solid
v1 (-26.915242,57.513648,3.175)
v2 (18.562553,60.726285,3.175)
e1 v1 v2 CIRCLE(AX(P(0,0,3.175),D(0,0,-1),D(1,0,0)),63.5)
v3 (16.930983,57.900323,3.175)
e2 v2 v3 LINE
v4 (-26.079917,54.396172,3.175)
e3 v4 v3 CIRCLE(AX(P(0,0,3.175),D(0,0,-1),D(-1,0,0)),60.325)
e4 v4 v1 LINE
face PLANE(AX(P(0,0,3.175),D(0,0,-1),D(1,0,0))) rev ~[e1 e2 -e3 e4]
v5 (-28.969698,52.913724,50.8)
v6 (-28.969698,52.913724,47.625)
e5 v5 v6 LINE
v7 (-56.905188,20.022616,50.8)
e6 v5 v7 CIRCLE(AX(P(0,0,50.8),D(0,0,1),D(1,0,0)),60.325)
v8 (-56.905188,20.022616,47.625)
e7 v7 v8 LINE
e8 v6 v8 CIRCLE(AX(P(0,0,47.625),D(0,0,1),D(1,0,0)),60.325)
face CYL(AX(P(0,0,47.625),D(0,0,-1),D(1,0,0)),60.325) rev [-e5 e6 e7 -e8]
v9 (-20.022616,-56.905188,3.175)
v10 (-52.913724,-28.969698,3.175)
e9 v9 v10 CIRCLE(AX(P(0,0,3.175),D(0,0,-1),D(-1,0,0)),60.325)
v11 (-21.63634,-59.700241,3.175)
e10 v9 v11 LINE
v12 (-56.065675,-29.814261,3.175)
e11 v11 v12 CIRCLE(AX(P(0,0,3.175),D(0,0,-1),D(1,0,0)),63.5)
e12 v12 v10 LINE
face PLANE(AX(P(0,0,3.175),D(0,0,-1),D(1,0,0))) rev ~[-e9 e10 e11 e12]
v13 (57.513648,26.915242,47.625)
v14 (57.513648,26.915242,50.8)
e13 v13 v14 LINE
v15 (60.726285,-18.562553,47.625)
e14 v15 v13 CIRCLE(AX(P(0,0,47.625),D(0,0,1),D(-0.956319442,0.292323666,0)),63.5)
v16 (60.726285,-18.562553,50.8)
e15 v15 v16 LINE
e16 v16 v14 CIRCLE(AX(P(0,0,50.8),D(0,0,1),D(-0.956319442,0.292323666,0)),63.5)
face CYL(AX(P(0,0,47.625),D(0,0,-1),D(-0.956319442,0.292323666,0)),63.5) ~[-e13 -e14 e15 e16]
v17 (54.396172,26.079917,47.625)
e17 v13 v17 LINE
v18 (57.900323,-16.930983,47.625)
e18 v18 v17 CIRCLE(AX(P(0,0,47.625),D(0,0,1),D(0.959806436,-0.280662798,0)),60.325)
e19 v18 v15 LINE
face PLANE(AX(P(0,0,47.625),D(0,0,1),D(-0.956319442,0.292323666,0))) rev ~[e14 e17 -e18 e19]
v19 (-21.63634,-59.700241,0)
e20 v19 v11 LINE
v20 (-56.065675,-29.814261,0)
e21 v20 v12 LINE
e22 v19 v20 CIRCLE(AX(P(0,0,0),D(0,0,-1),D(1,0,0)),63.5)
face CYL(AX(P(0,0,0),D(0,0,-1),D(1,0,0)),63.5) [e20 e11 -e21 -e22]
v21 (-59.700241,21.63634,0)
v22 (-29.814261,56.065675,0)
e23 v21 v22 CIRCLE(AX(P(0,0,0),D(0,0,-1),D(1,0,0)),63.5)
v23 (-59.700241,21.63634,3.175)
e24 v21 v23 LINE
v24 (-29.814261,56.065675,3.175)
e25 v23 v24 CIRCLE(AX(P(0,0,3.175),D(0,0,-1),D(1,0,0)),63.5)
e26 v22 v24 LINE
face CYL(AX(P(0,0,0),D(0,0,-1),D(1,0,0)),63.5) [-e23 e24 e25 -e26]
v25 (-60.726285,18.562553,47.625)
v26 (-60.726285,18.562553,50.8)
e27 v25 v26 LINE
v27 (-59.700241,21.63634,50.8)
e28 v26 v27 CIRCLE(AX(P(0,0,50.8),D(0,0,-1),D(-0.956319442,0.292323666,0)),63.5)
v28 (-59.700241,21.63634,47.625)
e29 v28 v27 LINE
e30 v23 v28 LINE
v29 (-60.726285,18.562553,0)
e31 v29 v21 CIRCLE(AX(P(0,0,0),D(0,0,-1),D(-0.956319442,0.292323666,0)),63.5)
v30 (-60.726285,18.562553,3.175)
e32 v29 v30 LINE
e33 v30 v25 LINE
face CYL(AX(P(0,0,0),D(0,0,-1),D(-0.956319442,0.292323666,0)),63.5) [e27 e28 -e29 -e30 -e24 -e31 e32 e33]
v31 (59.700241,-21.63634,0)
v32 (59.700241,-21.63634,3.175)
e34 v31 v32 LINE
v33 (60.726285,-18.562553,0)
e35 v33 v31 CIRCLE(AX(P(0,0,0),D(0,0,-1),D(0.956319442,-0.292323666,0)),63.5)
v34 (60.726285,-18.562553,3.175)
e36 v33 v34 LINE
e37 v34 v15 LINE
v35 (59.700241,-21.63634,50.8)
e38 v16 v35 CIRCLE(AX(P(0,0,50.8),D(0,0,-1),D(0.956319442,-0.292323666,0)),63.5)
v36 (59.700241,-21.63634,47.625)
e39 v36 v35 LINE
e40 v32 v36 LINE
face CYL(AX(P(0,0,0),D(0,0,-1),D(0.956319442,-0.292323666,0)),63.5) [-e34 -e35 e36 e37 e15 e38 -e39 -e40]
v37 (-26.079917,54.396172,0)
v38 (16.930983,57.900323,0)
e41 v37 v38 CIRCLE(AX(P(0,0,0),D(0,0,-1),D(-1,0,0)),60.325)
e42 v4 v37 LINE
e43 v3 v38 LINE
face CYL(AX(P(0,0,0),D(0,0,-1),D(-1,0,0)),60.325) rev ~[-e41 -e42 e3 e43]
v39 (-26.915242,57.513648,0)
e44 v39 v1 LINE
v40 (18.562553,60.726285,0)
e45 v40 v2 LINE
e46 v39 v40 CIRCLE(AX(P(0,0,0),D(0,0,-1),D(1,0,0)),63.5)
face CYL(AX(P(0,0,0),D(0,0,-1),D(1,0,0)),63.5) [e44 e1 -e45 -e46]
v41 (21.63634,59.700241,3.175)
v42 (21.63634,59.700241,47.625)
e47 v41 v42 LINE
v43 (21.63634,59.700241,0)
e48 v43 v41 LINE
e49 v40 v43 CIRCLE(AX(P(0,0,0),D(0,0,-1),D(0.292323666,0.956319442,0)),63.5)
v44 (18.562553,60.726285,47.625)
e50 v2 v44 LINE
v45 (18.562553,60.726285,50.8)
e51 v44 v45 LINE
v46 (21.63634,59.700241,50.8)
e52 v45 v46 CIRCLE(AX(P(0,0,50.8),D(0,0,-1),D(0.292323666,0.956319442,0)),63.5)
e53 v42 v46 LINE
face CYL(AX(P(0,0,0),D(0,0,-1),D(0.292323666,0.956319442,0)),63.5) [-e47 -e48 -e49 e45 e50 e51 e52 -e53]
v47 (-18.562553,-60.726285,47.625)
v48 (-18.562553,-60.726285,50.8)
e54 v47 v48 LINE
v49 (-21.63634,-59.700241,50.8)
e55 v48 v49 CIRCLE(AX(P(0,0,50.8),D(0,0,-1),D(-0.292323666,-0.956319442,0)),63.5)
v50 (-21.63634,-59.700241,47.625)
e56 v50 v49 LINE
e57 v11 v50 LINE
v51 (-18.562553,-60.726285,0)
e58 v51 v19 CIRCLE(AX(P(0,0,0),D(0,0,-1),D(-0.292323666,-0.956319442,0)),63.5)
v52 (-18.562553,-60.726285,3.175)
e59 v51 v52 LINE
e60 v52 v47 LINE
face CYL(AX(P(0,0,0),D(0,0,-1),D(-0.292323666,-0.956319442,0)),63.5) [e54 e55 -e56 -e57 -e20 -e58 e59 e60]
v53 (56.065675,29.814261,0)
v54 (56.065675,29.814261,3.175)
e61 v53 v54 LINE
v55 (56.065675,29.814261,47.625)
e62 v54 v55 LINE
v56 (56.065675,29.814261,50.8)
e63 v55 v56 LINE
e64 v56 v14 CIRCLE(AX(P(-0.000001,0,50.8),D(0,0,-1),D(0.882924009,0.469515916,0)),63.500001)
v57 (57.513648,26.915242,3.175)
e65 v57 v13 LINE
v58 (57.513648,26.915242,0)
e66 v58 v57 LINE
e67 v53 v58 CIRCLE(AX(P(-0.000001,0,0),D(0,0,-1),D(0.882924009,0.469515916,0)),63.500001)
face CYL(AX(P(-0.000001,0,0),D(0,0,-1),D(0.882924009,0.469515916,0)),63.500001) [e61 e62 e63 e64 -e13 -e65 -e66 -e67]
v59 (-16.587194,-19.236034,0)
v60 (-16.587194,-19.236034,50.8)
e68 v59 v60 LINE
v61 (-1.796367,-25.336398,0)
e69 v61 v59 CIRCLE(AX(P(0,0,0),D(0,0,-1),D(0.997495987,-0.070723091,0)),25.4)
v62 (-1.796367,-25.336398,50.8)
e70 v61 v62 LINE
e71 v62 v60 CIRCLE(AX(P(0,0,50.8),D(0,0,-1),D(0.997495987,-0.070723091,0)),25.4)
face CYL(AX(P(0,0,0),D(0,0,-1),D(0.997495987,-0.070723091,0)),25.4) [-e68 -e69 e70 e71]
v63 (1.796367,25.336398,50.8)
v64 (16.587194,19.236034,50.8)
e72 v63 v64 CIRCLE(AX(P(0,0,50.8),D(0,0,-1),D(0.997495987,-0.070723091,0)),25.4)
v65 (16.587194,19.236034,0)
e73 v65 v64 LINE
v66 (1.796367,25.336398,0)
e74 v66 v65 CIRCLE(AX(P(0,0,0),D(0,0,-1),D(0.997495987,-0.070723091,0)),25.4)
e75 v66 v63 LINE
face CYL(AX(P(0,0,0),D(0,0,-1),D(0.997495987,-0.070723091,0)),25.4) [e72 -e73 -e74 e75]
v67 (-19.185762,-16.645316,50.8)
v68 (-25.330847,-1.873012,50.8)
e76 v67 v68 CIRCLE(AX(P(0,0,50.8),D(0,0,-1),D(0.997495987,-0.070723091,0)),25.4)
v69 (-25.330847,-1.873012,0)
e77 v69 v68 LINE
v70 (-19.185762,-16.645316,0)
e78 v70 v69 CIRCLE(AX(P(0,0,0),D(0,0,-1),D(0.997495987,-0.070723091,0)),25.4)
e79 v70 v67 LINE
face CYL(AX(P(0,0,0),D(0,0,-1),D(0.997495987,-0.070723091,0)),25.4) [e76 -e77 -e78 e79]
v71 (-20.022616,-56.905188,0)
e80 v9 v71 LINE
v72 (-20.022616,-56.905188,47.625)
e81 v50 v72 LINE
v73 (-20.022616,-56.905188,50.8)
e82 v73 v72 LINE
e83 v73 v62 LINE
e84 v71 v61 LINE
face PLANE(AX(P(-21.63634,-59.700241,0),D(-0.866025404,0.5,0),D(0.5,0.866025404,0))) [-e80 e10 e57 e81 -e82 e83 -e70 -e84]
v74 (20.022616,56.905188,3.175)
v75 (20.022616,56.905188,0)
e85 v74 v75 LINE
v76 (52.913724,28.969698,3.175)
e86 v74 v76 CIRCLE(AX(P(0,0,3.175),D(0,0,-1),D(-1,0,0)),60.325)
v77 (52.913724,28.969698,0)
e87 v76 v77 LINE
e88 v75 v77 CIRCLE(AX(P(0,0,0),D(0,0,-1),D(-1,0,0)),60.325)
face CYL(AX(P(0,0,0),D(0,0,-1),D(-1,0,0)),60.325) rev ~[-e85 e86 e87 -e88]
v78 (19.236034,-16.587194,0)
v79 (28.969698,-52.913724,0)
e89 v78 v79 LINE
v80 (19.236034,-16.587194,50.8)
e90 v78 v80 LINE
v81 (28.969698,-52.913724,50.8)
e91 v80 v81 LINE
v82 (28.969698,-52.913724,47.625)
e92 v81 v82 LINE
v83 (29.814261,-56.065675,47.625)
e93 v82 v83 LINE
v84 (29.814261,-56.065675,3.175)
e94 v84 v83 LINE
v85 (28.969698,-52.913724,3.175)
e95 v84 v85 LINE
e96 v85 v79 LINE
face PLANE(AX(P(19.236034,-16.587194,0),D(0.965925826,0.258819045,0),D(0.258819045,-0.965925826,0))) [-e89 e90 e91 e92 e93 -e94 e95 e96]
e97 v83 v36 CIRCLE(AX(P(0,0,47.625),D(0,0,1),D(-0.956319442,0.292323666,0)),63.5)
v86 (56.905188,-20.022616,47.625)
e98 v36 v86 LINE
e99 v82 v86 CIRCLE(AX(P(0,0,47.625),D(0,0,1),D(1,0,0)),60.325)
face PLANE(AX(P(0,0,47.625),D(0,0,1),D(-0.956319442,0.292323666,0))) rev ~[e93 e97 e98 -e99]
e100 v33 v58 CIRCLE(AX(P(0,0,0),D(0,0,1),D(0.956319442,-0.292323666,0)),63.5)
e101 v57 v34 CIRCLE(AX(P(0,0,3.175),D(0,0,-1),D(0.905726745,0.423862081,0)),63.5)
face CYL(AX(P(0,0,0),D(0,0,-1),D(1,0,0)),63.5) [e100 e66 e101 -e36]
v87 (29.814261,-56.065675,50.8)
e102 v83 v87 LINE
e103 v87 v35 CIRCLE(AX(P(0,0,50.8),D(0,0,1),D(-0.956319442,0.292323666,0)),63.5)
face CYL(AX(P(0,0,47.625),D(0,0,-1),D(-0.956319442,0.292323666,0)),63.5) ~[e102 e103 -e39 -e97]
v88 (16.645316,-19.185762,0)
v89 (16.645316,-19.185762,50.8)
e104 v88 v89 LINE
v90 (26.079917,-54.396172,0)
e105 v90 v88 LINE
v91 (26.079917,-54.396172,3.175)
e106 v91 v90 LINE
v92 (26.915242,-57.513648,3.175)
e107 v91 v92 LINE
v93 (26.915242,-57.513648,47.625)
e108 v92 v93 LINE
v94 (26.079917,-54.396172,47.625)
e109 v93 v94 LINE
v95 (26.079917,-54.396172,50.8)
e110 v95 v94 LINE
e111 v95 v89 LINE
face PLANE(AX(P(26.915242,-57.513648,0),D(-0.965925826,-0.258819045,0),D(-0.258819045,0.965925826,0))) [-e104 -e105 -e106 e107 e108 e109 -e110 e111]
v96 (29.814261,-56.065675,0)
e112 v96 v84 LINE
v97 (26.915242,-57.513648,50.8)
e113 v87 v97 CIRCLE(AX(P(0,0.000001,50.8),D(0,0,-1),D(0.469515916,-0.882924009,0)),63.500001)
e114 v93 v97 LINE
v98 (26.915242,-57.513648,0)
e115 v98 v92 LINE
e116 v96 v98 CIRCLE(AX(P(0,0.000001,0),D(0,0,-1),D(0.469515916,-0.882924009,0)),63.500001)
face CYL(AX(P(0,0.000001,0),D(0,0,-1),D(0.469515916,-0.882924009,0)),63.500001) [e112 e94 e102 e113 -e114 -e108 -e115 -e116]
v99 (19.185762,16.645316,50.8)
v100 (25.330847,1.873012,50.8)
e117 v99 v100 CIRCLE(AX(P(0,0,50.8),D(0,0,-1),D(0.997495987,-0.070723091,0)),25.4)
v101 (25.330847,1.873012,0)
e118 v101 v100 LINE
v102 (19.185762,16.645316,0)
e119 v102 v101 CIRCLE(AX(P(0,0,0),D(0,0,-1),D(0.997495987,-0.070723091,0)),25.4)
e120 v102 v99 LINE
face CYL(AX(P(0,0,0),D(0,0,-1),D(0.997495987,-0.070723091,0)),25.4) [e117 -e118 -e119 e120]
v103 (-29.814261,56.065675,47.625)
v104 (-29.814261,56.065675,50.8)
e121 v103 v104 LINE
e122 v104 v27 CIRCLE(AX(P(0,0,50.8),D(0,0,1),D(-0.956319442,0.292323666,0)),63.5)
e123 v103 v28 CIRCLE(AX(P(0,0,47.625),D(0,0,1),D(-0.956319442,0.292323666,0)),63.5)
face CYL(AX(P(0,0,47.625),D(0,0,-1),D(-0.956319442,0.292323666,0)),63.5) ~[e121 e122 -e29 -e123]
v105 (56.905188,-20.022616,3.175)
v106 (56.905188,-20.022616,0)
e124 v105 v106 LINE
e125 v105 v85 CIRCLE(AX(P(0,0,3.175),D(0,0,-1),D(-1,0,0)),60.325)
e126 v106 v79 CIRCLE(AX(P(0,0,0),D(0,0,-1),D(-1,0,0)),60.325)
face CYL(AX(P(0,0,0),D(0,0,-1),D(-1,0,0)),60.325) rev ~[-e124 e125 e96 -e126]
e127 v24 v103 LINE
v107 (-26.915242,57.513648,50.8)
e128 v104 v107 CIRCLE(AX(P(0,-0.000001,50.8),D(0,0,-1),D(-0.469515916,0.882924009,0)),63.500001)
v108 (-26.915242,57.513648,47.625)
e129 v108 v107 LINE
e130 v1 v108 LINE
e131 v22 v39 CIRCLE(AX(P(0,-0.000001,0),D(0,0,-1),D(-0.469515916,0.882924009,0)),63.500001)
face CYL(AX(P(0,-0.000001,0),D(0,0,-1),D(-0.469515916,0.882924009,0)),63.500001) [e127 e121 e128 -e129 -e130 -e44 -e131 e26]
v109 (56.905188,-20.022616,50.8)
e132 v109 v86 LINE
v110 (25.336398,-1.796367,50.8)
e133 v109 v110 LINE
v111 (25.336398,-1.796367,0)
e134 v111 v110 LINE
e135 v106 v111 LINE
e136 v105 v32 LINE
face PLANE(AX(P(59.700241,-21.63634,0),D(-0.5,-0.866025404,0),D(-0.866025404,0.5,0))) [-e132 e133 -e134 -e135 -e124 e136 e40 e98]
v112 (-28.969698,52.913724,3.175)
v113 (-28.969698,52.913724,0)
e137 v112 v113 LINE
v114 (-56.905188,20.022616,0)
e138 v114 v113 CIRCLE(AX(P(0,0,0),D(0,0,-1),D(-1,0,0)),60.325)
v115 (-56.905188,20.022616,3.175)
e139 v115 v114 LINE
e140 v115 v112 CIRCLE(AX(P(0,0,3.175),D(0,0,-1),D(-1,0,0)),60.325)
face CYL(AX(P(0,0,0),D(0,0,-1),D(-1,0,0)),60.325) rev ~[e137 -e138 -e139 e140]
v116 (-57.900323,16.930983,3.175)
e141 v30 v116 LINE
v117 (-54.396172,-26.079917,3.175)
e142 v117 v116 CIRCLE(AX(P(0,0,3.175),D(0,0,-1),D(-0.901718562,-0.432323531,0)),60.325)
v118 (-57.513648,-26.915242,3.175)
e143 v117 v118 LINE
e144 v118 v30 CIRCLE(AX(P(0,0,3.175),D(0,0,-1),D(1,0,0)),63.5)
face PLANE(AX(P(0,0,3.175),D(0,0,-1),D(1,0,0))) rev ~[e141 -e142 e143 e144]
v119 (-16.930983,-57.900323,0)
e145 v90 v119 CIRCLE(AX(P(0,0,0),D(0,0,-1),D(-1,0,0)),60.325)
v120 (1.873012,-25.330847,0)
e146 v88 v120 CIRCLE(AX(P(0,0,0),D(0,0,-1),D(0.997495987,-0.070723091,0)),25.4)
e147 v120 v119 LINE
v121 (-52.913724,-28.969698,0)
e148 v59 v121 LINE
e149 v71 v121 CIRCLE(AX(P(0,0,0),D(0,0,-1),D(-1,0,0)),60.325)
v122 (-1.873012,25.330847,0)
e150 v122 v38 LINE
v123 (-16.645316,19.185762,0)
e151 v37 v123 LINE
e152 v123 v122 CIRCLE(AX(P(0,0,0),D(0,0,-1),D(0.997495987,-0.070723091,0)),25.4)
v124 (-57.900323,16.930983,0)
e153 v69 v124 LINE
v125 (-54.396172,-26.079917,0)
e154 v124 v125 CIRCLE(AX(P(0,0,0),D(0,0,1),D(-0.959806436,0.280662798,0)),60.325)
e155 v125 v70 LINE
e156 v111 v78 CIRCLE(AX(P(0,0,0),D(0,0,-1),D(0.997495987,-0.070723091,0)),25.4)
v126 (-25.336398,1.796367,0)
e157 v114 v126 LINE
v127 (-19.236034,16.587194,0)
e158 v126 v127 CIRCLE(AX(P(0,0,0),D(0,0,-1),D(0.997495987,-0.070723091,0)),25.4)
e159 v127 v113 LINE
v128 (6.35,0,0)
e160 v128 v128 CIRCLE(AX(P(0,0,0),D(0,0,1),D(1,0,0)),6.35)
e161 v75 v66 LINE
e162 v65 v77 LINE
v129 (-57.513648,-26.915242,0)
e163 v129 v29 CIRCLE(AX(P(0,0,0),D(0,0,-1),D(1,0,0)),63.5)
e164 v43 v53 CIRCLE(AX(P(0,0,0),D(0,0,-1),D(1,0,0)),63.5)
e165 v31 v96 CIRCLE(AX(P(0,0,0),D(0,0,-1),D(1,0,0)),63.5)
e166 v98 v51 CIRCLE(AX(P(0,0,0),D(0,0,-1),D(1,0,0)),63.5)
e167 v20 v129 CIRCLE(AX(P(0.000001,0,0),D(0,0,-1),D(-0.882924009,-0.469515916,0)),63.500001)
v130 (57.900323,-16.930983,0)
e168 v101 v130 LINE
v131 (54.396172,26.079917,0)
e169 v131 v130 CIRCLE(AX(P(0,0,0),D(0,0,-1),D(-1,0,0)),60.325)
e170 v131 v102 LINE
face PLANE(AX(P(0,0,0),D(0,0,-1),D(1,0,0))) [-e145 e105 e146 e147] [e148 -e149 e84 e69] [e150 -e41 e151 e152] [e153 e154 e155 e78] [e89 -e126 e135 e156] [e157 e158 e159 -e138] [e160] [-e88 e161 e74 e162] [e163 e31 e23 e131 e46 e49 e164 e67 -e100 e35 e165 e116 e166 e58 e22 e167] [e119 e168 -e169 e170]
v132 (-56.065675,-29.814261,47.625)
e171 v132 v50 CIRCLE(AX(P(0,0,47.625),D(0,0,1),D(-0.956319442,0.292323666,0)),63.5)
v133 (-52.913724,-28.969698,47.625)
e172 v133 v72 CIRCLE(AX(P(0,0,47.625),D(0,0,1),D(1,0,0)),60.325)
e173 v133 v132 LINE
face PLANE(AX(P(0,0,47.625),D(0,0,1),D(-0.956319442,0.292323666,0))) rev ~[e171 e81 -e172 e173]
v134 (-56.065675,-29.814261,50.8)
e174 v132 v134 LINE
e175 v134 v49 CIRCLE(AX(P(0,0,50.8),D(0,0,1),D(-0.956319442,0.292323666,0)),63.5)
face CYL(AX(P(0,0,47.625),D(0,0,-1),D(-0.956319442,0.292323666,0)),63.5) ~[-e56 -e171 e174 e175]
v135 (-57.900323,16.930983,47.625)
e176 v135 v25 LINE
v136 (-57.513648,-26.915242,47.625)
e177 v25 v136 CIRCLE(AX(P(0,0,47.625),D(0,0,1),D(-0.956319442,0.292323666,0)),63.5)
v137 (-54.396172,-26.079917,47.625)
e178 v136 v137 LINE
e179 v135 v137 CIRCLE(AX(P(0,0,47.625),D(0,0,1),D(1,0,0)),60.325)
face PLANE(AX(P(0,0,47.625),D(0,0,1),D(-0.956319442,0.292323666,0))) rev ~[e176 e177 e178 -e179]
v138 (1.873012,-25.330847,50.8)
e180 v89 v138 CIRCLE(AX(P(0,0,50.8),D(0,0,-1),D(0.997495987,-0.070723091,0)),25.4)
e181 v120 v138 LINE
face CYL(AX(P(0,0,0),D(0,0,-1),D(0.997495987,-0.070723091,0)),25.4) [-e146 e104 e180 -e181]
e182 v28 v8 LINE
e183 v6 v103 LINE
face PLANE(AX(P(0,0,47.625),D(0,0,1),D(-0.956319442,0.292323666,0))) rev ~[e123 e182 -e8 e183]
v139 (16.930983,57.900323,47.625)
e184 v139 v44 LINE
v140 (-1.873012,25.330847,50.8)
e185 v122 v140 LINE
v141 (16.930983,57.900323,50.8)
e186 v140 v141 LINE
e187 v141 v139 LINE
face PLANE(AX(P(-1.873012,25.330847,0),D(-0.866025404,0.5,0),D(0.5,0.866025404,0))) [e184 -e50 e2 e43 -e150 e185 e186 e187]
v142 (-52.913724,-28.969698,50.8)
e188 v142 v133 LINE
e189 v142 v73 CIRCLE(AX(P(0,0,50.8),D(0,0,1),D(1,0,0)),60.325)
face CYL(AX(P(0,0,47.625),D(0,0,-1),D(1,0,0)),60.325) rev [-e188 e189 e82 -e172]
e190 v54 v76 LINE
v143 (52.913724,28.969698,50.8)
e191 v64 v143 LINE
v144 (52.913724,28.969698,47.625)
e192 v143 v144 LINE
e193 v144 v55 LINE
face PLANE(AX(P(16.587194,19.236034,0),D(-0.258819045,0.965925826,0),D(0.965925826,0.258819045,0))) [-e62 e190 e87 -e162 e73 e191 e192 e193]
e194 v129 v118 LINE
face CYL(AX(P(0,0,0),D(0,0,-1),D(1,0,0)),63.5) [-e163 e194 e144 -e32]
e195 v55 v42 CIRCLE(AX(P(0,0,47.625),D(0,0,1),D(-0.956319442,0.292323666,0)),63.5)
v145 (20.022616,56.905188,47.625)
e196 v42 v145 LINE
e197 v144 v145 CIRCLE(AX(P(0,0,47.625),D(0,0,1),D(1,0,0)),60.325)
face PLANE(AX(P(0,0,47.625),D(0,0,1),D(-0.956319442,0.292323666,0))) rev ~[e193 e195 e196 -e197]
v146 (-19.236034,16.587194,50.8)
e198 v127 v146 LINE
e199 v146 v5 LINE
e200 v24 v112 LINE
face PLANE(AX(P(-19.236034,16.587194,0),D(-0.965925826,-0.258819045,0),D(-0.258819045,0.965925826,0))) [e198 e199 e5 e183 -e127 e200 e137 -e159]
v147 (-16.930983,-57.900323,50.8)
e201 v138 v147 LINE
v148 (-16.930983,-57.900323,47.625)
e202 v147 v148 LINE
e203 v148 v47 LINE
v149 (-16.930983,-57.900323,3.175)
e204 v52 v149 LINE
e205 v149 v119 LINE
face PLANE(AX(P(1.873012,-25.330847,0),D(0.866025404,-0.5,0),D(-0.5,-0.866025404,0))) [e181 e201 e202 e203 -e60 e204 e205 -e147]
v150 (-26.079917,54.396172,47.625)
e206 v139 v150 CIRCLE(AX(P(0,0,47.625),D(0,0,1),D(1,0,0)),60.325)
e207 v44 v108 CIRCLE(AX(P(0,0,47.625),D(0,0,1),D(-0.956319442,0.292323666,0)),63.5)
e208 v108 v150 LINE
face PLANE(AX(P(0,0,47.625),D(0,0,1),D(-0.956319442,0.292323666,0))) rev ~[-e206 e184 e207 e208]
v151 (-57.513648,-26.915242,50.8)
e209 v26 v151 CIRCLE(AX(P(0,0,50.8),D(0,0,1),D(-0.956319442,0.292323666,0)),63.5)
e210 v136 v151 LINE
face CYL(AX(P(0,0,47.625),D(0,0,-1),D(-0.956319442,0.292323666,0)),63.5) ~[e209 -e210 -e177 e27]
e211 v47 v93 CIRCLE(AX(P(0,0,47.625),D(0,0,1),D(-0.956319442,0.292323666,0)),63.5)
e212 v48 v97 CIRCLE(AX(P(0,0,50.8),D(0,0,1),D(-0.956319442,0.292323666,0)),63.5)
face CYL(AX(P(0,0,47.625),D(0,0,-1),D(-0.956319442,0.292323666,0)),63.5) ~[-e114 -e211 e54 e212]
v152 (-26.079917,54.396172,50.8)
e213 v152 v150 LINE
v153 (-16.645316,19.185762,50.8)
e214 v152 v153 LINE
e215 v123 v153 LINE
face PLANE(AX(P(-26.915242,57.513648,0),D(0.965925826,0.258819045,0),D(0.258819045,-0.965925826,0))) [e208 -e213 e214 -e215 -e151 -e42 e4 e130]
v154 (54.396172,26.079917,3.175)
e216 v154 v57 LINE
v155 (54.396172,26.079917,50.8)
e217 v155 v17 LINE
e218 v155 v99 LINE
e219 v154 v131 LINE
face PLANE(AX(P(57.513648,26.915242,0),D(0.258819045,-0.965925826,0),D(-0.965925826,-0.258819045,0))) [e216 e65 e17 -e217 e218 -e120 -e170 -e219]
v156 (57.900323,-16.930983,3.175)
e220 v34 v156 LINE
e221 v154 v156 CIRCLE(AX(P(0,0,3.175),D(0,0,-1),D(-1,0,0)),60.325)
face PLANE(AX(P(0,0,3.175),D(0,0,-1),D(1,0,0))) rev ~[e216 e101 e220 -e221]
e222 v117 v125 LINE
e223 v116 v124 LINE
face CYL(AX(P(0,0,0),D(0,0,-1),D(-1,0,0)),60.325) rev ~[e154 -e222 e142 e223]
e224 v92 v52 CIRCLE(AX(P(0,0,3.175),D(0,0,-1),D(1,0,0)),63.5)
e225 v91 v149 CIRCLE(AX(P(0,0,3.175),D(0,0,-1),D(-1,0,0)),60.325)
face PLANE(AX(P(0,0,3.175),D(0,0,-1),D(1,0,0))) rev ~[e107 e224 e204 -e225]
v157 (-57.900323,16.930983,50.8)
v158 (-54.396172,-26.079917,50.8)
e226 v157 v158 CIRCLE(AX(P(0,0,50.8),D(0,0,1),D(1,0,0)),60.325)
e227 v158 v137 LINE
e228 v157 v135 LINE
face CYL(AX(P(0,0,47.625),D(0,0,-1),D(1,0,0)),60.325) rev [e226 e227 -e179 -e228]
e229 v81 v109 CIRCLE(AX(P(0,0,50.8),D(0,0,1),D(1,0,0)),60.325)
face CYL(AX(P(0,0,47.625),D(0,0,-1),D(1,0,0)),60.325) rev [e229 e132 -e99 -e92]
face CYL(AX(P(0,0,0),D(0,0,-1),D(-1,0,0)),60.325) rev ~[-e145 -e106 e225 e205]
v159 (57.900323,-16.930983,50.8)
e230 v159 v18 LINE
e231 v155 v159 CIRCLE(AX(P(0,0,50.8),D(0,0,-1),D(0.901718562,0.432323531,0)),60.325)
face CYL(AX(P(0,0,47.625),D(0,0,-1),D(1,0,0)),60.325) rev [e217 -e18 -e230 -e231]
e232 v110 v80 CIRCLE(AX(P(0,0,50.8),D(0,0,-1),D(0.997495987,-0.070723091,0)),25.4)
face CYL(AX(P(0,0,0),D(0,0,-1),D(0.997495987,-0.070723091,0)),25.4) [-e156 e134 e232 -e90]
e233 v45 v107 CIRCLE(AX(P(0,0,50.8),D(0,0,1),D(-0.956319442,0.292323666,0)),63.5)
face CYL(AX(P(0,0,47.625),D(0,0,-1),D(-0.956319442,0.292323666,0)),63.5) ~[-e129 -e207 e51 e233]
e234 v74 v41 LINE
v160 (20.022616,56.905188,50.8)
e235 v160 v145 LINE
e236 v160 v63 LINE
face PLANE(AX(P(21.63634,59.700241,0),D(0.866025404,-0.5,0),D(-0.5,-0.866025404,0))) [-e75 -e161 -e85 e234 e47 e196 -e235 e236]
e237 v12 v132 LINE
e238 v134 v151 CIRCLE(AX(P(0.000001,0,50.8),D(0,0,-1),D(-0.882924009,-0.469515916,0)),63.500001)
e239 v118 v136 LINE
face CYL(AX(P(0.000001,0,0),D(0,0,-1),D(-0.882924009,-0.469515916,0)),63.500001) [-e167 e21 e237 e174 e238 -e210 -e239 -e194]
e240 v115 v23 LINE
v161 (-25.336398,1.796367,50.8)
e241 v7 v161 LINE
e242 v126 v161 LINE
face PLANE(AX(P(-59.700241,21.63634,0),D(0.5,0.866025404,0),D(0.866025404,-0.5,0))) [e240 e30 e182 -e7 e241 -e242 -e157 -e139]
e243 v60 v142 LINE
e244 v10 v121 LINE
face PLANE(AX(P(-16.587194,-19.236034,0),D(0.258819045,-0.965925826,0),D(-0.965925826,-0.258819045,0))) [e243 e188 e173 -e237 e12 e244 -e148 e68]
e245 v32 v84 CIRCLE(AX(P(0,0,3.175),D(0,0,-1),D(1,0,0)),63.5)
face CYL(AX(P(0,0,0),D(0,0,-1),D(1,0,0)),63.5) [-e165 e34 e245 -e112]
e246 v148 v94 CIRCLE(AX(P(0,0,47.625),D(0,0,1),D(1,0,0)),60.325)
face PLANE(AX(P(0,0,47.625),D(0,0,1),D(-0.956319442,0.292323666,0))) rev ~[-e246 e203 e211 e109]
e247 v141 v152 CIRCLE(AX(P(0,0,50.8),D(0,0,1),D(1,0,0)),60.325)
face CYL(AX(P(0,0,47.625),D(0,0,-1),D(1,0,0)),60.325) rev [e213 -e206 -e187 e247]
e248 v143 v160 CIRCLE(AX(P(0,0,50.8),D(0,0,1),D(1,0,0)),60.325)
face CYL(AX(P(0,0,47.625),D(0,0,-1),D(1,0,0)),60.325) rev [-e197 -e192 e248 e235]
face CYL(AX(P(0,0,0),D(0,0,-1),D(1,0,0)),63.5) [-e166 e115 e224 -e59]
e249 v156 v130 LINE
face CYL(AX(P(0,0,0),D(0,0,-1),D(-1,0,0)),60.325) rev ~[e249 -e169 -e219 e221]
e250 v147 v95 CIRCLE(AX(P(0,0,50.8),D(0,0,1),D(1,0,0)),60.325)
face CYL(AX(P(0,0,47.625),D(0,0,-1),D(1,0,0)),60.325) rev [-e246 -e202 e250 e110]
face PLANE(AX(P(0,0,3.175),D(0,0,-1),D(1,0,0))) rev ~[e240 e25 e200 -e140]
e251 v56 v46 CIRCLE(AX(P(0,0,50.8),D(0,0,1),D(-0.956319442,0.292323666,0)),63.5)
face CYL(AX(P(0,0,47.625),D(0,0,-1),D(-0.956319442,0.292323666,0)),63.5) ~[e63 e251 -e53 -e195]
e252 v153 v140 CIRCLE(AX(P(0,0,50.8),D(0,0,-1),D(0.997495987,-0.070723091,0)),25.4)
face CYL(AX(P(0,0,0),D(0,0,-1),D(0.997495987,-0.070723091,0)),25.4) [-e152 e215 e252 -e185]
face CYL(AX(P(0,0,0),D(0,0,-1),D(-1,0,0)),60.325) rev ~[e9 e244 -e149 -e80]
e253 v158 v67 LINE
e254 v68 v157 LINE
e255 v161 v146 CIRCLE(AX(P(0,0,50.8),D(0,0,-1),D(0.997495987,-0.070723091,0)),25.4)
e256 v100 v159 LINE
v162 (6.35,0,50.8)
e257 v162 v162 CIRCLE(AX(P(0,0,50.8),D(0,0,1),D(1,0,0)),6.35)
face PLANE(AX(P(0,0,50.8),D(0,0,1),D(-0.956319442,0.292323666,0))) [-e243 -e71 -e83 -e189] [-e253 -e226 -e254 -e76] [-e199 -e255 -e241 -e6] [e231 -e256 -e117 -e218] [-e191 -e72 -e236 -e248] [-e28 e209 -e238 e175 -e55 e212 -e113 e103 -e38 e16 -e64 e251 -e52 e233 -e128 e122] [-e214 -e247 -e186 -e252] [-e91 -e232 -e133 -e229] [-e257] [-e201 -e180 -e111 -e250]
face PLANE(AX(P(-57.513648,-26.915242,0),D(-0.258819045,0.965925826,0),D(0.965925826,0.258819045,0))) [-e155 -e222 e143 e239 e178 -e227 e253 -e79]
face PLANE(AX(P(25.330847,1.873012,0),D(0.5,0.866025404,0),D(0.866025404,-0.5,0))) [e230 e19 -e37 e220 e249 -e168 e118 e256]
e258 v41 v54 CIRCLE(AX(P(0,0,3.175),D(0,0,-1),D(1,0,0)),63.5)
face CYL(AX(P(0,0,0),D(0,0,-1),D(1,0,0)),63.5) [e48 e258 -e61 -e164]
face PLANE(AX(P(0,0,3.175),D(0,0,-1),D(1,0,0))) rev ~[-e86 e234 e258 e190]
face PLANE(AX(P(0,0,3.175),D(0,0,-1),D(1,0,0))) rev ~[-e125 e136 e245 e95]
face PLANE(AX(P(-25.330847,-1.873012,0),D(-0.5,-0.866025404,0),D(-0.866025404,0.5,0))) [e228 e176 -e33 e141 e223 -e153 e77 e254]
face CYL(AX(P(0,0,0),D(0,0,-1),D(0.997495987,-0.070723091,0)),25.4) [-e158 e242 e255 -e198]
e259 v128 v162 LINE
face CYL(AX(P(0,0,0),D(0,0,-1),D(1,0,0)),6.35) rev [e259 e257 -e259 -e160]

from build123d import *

# Parameters (mm, degrees)
SKETCH1_R           = 6.35
BOSS_EXTRUDE1_DEPTH = 50.8
BOSS_EXTRUDE2_START = -3.175
SKETCH2_R           = 63.5
SKETCH2_R_2         = 60.325
BOSS_EXTRUDE2_DEPTH = 3.175
SKETCH6_R           = 63.5
SKETCH6_R_2         = 60.325
BOSS_EXTRUDE3_DEPTH = 3.175
SKETCH1_3_R         = 6.35
CUT_EXTRUDE1_DEPTH  = 50.8


with BuildPart() as part:
    # Sketch1 → Boss-Extrude1 (new body)
    with BuildSketch(Plane.XY):
        Circle(SKETCH1_R)
        with BuildLine():
            Line((59.700240967, -21.63634046), (25.336398074, -1.796366515))
            ThreePointArc((25.336398074, -1.796366515), (-25.399970938, -0.03842333), (25.330847289, 1.873012441))
            Line((25.330847289, 1.873012441), (60.726284541, -18.562552784))
            ThreePointArc((60.726284541, -18.562552784), (60.232873534, -20.105992785), (59.700240967, -21.63634046))
        make_face()
        with BuildLine():
            Line((26.915242167, -57.513648286), (16.645315944, -19.185761833))
            ThreePointArc((16.645315944, -19.185761833), (-17.987661089, 17.933322295), (19.23603369, -16.587194093))
            Line((19.23603369, -16.587194093), (29.814260645, -56.065674545))
            ThreePointArc((29.814260645, -56.065674545), (28.373989485, -56.808157167), (26.915242167, -57.513648286))
        make_face()
        with BuildLine():
            Line((-21.63634046, -59.700240967), (-1.796366515, -25.336398074))
            ThreePointArc((-1.796366515, -25.336398074), (-0.03842333, 25.399970938), (1.873012441, -25.330847289))
            Line((1.873012441, -25.330847289), (-18.562552784, -60.726284541))
            ThreePointArc((-18.562552784, -60.726284541), (-20.105992785, -60.232873534), (-21.63634046, -59.700240967))
        make_face()
        with BuildLine():
            Line((-57.513648286, -26.915242167), (-19.185761833, -16.645315944))
            ThreePointArc((-19.185761833, -16.645315944), (17.933322295, 17.987661089), (-16.587194093, -19.23603369))
            Line((-16.587194093, -19.23603369), (-56.065674545, -29.814260645))
            ThreePointArc((-56.065674545, -29.814260645), (-56.808157167, -28.373989485), (-57.513648286, -26.915242167))
        make_face()
        with BuildLine():
            Line((-59.700240967, 21.63634046), (-25.336398074, 1.796366515))
            ThreePointArc((-25.336398074, 1.796366515), (25.399970938, 0.03842333), (-25.330847289, -1.873012441))
            Line((-25.330847289, -1.873012441), (-60.726284541, 18.562552784))
            ThreePointArc((-60.726284541, 18.562552784), (-60.232873534, 20.105992785), (-59.700240967, 21.63634046))
        make_face()
        with BuildLine():
            Line((-26.915242167, 57.513648286), (-16.645315944, 19.185761833))
            ThreePointArc((-16.645315944, 19.185761833), (17.987661089, -17.933322295), (-19.23603369, 16.587194093))
            Line((-19.23603369, 16.587194093), (-29.814260645, 56.065674545))
            ThreePointArc((-29.814260645, 56.065674545), (-28.373989485, 56.808157167), (-26.915242167, 57.513648286))
        make_face()
        with BuildLine():
            Line((21.63634046, 59.700240967), (1.796366515, 25.336398074))
            ThreePointArc((1.796366515, 25.336398074), (0.03842333, -25.399970938), (-1.873012441, 25.330847289))
            Line((-1.873012441, 25.330847289), (18.562552784, 60.726284541))
            ThreePointArc((18.562552784, 60.726284541), (20.105992785, 60.232873534), (21.63634046, 59.700240967))
        make_face()
        with BuildLine():
            Line((57.513648286, 26.915242167), (19.185761833, 16.645315944))
            ThreePointArc((19.185761833, 16.645315944), (-17.933322295, -17.987661089), (16.587194093, 19.23603369))
            Line((16.587194093, 19.23603369), (56.065674545, 29.814260645))
            ThreePointArc((56.065674545, 29.814260645), (56.808157167, 28.373989485), (57.513648286, 26.915242167))
        make_face()
    extrude(amount=BOSS_EXTRUDE1_DEPTH)

    # Sketch2 → Boss-Extrude2 (add)
    with BuildSketch(Plane.XY.offset(50.8).offset(BOSS_EXTRUDE2_START)):
        with Locations(Location((0, 0, 0), (0, 0, 163.002878163))):
            Circle(SKETCH2_R)
        Circle(SKETCH2_R_2, mode=Mode.SUBTRACT)
    extrude(amount=BOSS_EXTRUDE2_DEPTH)

    # Sketch6 → Boss-Extrude3 (add)
    with BuildSketch(Plane(origin=(0, 0, 0), x_dir=(-1, 0, 0), z_dir=(0, 0, -1))):
        with Locations(Location((0, 0, 0), (0, 0, 180))):
            Circle(SKETCH6_R)
        Circle(SKETCH6_R_2, mode=Mode.SUBTRACT)
    extrude(amount=-BOSS_EXTRUDE3_DEPTH)

    # Sketch1<3> → Cut-Extrude1 (cut)
    with BuildSketch(Plane.XY):
        Circle(SKETCH1_3_R)
    extrude(amount=CUT_EXTRUDE1_DEPTH, mode=Mode.SUBTRACT)


solid = part.part
